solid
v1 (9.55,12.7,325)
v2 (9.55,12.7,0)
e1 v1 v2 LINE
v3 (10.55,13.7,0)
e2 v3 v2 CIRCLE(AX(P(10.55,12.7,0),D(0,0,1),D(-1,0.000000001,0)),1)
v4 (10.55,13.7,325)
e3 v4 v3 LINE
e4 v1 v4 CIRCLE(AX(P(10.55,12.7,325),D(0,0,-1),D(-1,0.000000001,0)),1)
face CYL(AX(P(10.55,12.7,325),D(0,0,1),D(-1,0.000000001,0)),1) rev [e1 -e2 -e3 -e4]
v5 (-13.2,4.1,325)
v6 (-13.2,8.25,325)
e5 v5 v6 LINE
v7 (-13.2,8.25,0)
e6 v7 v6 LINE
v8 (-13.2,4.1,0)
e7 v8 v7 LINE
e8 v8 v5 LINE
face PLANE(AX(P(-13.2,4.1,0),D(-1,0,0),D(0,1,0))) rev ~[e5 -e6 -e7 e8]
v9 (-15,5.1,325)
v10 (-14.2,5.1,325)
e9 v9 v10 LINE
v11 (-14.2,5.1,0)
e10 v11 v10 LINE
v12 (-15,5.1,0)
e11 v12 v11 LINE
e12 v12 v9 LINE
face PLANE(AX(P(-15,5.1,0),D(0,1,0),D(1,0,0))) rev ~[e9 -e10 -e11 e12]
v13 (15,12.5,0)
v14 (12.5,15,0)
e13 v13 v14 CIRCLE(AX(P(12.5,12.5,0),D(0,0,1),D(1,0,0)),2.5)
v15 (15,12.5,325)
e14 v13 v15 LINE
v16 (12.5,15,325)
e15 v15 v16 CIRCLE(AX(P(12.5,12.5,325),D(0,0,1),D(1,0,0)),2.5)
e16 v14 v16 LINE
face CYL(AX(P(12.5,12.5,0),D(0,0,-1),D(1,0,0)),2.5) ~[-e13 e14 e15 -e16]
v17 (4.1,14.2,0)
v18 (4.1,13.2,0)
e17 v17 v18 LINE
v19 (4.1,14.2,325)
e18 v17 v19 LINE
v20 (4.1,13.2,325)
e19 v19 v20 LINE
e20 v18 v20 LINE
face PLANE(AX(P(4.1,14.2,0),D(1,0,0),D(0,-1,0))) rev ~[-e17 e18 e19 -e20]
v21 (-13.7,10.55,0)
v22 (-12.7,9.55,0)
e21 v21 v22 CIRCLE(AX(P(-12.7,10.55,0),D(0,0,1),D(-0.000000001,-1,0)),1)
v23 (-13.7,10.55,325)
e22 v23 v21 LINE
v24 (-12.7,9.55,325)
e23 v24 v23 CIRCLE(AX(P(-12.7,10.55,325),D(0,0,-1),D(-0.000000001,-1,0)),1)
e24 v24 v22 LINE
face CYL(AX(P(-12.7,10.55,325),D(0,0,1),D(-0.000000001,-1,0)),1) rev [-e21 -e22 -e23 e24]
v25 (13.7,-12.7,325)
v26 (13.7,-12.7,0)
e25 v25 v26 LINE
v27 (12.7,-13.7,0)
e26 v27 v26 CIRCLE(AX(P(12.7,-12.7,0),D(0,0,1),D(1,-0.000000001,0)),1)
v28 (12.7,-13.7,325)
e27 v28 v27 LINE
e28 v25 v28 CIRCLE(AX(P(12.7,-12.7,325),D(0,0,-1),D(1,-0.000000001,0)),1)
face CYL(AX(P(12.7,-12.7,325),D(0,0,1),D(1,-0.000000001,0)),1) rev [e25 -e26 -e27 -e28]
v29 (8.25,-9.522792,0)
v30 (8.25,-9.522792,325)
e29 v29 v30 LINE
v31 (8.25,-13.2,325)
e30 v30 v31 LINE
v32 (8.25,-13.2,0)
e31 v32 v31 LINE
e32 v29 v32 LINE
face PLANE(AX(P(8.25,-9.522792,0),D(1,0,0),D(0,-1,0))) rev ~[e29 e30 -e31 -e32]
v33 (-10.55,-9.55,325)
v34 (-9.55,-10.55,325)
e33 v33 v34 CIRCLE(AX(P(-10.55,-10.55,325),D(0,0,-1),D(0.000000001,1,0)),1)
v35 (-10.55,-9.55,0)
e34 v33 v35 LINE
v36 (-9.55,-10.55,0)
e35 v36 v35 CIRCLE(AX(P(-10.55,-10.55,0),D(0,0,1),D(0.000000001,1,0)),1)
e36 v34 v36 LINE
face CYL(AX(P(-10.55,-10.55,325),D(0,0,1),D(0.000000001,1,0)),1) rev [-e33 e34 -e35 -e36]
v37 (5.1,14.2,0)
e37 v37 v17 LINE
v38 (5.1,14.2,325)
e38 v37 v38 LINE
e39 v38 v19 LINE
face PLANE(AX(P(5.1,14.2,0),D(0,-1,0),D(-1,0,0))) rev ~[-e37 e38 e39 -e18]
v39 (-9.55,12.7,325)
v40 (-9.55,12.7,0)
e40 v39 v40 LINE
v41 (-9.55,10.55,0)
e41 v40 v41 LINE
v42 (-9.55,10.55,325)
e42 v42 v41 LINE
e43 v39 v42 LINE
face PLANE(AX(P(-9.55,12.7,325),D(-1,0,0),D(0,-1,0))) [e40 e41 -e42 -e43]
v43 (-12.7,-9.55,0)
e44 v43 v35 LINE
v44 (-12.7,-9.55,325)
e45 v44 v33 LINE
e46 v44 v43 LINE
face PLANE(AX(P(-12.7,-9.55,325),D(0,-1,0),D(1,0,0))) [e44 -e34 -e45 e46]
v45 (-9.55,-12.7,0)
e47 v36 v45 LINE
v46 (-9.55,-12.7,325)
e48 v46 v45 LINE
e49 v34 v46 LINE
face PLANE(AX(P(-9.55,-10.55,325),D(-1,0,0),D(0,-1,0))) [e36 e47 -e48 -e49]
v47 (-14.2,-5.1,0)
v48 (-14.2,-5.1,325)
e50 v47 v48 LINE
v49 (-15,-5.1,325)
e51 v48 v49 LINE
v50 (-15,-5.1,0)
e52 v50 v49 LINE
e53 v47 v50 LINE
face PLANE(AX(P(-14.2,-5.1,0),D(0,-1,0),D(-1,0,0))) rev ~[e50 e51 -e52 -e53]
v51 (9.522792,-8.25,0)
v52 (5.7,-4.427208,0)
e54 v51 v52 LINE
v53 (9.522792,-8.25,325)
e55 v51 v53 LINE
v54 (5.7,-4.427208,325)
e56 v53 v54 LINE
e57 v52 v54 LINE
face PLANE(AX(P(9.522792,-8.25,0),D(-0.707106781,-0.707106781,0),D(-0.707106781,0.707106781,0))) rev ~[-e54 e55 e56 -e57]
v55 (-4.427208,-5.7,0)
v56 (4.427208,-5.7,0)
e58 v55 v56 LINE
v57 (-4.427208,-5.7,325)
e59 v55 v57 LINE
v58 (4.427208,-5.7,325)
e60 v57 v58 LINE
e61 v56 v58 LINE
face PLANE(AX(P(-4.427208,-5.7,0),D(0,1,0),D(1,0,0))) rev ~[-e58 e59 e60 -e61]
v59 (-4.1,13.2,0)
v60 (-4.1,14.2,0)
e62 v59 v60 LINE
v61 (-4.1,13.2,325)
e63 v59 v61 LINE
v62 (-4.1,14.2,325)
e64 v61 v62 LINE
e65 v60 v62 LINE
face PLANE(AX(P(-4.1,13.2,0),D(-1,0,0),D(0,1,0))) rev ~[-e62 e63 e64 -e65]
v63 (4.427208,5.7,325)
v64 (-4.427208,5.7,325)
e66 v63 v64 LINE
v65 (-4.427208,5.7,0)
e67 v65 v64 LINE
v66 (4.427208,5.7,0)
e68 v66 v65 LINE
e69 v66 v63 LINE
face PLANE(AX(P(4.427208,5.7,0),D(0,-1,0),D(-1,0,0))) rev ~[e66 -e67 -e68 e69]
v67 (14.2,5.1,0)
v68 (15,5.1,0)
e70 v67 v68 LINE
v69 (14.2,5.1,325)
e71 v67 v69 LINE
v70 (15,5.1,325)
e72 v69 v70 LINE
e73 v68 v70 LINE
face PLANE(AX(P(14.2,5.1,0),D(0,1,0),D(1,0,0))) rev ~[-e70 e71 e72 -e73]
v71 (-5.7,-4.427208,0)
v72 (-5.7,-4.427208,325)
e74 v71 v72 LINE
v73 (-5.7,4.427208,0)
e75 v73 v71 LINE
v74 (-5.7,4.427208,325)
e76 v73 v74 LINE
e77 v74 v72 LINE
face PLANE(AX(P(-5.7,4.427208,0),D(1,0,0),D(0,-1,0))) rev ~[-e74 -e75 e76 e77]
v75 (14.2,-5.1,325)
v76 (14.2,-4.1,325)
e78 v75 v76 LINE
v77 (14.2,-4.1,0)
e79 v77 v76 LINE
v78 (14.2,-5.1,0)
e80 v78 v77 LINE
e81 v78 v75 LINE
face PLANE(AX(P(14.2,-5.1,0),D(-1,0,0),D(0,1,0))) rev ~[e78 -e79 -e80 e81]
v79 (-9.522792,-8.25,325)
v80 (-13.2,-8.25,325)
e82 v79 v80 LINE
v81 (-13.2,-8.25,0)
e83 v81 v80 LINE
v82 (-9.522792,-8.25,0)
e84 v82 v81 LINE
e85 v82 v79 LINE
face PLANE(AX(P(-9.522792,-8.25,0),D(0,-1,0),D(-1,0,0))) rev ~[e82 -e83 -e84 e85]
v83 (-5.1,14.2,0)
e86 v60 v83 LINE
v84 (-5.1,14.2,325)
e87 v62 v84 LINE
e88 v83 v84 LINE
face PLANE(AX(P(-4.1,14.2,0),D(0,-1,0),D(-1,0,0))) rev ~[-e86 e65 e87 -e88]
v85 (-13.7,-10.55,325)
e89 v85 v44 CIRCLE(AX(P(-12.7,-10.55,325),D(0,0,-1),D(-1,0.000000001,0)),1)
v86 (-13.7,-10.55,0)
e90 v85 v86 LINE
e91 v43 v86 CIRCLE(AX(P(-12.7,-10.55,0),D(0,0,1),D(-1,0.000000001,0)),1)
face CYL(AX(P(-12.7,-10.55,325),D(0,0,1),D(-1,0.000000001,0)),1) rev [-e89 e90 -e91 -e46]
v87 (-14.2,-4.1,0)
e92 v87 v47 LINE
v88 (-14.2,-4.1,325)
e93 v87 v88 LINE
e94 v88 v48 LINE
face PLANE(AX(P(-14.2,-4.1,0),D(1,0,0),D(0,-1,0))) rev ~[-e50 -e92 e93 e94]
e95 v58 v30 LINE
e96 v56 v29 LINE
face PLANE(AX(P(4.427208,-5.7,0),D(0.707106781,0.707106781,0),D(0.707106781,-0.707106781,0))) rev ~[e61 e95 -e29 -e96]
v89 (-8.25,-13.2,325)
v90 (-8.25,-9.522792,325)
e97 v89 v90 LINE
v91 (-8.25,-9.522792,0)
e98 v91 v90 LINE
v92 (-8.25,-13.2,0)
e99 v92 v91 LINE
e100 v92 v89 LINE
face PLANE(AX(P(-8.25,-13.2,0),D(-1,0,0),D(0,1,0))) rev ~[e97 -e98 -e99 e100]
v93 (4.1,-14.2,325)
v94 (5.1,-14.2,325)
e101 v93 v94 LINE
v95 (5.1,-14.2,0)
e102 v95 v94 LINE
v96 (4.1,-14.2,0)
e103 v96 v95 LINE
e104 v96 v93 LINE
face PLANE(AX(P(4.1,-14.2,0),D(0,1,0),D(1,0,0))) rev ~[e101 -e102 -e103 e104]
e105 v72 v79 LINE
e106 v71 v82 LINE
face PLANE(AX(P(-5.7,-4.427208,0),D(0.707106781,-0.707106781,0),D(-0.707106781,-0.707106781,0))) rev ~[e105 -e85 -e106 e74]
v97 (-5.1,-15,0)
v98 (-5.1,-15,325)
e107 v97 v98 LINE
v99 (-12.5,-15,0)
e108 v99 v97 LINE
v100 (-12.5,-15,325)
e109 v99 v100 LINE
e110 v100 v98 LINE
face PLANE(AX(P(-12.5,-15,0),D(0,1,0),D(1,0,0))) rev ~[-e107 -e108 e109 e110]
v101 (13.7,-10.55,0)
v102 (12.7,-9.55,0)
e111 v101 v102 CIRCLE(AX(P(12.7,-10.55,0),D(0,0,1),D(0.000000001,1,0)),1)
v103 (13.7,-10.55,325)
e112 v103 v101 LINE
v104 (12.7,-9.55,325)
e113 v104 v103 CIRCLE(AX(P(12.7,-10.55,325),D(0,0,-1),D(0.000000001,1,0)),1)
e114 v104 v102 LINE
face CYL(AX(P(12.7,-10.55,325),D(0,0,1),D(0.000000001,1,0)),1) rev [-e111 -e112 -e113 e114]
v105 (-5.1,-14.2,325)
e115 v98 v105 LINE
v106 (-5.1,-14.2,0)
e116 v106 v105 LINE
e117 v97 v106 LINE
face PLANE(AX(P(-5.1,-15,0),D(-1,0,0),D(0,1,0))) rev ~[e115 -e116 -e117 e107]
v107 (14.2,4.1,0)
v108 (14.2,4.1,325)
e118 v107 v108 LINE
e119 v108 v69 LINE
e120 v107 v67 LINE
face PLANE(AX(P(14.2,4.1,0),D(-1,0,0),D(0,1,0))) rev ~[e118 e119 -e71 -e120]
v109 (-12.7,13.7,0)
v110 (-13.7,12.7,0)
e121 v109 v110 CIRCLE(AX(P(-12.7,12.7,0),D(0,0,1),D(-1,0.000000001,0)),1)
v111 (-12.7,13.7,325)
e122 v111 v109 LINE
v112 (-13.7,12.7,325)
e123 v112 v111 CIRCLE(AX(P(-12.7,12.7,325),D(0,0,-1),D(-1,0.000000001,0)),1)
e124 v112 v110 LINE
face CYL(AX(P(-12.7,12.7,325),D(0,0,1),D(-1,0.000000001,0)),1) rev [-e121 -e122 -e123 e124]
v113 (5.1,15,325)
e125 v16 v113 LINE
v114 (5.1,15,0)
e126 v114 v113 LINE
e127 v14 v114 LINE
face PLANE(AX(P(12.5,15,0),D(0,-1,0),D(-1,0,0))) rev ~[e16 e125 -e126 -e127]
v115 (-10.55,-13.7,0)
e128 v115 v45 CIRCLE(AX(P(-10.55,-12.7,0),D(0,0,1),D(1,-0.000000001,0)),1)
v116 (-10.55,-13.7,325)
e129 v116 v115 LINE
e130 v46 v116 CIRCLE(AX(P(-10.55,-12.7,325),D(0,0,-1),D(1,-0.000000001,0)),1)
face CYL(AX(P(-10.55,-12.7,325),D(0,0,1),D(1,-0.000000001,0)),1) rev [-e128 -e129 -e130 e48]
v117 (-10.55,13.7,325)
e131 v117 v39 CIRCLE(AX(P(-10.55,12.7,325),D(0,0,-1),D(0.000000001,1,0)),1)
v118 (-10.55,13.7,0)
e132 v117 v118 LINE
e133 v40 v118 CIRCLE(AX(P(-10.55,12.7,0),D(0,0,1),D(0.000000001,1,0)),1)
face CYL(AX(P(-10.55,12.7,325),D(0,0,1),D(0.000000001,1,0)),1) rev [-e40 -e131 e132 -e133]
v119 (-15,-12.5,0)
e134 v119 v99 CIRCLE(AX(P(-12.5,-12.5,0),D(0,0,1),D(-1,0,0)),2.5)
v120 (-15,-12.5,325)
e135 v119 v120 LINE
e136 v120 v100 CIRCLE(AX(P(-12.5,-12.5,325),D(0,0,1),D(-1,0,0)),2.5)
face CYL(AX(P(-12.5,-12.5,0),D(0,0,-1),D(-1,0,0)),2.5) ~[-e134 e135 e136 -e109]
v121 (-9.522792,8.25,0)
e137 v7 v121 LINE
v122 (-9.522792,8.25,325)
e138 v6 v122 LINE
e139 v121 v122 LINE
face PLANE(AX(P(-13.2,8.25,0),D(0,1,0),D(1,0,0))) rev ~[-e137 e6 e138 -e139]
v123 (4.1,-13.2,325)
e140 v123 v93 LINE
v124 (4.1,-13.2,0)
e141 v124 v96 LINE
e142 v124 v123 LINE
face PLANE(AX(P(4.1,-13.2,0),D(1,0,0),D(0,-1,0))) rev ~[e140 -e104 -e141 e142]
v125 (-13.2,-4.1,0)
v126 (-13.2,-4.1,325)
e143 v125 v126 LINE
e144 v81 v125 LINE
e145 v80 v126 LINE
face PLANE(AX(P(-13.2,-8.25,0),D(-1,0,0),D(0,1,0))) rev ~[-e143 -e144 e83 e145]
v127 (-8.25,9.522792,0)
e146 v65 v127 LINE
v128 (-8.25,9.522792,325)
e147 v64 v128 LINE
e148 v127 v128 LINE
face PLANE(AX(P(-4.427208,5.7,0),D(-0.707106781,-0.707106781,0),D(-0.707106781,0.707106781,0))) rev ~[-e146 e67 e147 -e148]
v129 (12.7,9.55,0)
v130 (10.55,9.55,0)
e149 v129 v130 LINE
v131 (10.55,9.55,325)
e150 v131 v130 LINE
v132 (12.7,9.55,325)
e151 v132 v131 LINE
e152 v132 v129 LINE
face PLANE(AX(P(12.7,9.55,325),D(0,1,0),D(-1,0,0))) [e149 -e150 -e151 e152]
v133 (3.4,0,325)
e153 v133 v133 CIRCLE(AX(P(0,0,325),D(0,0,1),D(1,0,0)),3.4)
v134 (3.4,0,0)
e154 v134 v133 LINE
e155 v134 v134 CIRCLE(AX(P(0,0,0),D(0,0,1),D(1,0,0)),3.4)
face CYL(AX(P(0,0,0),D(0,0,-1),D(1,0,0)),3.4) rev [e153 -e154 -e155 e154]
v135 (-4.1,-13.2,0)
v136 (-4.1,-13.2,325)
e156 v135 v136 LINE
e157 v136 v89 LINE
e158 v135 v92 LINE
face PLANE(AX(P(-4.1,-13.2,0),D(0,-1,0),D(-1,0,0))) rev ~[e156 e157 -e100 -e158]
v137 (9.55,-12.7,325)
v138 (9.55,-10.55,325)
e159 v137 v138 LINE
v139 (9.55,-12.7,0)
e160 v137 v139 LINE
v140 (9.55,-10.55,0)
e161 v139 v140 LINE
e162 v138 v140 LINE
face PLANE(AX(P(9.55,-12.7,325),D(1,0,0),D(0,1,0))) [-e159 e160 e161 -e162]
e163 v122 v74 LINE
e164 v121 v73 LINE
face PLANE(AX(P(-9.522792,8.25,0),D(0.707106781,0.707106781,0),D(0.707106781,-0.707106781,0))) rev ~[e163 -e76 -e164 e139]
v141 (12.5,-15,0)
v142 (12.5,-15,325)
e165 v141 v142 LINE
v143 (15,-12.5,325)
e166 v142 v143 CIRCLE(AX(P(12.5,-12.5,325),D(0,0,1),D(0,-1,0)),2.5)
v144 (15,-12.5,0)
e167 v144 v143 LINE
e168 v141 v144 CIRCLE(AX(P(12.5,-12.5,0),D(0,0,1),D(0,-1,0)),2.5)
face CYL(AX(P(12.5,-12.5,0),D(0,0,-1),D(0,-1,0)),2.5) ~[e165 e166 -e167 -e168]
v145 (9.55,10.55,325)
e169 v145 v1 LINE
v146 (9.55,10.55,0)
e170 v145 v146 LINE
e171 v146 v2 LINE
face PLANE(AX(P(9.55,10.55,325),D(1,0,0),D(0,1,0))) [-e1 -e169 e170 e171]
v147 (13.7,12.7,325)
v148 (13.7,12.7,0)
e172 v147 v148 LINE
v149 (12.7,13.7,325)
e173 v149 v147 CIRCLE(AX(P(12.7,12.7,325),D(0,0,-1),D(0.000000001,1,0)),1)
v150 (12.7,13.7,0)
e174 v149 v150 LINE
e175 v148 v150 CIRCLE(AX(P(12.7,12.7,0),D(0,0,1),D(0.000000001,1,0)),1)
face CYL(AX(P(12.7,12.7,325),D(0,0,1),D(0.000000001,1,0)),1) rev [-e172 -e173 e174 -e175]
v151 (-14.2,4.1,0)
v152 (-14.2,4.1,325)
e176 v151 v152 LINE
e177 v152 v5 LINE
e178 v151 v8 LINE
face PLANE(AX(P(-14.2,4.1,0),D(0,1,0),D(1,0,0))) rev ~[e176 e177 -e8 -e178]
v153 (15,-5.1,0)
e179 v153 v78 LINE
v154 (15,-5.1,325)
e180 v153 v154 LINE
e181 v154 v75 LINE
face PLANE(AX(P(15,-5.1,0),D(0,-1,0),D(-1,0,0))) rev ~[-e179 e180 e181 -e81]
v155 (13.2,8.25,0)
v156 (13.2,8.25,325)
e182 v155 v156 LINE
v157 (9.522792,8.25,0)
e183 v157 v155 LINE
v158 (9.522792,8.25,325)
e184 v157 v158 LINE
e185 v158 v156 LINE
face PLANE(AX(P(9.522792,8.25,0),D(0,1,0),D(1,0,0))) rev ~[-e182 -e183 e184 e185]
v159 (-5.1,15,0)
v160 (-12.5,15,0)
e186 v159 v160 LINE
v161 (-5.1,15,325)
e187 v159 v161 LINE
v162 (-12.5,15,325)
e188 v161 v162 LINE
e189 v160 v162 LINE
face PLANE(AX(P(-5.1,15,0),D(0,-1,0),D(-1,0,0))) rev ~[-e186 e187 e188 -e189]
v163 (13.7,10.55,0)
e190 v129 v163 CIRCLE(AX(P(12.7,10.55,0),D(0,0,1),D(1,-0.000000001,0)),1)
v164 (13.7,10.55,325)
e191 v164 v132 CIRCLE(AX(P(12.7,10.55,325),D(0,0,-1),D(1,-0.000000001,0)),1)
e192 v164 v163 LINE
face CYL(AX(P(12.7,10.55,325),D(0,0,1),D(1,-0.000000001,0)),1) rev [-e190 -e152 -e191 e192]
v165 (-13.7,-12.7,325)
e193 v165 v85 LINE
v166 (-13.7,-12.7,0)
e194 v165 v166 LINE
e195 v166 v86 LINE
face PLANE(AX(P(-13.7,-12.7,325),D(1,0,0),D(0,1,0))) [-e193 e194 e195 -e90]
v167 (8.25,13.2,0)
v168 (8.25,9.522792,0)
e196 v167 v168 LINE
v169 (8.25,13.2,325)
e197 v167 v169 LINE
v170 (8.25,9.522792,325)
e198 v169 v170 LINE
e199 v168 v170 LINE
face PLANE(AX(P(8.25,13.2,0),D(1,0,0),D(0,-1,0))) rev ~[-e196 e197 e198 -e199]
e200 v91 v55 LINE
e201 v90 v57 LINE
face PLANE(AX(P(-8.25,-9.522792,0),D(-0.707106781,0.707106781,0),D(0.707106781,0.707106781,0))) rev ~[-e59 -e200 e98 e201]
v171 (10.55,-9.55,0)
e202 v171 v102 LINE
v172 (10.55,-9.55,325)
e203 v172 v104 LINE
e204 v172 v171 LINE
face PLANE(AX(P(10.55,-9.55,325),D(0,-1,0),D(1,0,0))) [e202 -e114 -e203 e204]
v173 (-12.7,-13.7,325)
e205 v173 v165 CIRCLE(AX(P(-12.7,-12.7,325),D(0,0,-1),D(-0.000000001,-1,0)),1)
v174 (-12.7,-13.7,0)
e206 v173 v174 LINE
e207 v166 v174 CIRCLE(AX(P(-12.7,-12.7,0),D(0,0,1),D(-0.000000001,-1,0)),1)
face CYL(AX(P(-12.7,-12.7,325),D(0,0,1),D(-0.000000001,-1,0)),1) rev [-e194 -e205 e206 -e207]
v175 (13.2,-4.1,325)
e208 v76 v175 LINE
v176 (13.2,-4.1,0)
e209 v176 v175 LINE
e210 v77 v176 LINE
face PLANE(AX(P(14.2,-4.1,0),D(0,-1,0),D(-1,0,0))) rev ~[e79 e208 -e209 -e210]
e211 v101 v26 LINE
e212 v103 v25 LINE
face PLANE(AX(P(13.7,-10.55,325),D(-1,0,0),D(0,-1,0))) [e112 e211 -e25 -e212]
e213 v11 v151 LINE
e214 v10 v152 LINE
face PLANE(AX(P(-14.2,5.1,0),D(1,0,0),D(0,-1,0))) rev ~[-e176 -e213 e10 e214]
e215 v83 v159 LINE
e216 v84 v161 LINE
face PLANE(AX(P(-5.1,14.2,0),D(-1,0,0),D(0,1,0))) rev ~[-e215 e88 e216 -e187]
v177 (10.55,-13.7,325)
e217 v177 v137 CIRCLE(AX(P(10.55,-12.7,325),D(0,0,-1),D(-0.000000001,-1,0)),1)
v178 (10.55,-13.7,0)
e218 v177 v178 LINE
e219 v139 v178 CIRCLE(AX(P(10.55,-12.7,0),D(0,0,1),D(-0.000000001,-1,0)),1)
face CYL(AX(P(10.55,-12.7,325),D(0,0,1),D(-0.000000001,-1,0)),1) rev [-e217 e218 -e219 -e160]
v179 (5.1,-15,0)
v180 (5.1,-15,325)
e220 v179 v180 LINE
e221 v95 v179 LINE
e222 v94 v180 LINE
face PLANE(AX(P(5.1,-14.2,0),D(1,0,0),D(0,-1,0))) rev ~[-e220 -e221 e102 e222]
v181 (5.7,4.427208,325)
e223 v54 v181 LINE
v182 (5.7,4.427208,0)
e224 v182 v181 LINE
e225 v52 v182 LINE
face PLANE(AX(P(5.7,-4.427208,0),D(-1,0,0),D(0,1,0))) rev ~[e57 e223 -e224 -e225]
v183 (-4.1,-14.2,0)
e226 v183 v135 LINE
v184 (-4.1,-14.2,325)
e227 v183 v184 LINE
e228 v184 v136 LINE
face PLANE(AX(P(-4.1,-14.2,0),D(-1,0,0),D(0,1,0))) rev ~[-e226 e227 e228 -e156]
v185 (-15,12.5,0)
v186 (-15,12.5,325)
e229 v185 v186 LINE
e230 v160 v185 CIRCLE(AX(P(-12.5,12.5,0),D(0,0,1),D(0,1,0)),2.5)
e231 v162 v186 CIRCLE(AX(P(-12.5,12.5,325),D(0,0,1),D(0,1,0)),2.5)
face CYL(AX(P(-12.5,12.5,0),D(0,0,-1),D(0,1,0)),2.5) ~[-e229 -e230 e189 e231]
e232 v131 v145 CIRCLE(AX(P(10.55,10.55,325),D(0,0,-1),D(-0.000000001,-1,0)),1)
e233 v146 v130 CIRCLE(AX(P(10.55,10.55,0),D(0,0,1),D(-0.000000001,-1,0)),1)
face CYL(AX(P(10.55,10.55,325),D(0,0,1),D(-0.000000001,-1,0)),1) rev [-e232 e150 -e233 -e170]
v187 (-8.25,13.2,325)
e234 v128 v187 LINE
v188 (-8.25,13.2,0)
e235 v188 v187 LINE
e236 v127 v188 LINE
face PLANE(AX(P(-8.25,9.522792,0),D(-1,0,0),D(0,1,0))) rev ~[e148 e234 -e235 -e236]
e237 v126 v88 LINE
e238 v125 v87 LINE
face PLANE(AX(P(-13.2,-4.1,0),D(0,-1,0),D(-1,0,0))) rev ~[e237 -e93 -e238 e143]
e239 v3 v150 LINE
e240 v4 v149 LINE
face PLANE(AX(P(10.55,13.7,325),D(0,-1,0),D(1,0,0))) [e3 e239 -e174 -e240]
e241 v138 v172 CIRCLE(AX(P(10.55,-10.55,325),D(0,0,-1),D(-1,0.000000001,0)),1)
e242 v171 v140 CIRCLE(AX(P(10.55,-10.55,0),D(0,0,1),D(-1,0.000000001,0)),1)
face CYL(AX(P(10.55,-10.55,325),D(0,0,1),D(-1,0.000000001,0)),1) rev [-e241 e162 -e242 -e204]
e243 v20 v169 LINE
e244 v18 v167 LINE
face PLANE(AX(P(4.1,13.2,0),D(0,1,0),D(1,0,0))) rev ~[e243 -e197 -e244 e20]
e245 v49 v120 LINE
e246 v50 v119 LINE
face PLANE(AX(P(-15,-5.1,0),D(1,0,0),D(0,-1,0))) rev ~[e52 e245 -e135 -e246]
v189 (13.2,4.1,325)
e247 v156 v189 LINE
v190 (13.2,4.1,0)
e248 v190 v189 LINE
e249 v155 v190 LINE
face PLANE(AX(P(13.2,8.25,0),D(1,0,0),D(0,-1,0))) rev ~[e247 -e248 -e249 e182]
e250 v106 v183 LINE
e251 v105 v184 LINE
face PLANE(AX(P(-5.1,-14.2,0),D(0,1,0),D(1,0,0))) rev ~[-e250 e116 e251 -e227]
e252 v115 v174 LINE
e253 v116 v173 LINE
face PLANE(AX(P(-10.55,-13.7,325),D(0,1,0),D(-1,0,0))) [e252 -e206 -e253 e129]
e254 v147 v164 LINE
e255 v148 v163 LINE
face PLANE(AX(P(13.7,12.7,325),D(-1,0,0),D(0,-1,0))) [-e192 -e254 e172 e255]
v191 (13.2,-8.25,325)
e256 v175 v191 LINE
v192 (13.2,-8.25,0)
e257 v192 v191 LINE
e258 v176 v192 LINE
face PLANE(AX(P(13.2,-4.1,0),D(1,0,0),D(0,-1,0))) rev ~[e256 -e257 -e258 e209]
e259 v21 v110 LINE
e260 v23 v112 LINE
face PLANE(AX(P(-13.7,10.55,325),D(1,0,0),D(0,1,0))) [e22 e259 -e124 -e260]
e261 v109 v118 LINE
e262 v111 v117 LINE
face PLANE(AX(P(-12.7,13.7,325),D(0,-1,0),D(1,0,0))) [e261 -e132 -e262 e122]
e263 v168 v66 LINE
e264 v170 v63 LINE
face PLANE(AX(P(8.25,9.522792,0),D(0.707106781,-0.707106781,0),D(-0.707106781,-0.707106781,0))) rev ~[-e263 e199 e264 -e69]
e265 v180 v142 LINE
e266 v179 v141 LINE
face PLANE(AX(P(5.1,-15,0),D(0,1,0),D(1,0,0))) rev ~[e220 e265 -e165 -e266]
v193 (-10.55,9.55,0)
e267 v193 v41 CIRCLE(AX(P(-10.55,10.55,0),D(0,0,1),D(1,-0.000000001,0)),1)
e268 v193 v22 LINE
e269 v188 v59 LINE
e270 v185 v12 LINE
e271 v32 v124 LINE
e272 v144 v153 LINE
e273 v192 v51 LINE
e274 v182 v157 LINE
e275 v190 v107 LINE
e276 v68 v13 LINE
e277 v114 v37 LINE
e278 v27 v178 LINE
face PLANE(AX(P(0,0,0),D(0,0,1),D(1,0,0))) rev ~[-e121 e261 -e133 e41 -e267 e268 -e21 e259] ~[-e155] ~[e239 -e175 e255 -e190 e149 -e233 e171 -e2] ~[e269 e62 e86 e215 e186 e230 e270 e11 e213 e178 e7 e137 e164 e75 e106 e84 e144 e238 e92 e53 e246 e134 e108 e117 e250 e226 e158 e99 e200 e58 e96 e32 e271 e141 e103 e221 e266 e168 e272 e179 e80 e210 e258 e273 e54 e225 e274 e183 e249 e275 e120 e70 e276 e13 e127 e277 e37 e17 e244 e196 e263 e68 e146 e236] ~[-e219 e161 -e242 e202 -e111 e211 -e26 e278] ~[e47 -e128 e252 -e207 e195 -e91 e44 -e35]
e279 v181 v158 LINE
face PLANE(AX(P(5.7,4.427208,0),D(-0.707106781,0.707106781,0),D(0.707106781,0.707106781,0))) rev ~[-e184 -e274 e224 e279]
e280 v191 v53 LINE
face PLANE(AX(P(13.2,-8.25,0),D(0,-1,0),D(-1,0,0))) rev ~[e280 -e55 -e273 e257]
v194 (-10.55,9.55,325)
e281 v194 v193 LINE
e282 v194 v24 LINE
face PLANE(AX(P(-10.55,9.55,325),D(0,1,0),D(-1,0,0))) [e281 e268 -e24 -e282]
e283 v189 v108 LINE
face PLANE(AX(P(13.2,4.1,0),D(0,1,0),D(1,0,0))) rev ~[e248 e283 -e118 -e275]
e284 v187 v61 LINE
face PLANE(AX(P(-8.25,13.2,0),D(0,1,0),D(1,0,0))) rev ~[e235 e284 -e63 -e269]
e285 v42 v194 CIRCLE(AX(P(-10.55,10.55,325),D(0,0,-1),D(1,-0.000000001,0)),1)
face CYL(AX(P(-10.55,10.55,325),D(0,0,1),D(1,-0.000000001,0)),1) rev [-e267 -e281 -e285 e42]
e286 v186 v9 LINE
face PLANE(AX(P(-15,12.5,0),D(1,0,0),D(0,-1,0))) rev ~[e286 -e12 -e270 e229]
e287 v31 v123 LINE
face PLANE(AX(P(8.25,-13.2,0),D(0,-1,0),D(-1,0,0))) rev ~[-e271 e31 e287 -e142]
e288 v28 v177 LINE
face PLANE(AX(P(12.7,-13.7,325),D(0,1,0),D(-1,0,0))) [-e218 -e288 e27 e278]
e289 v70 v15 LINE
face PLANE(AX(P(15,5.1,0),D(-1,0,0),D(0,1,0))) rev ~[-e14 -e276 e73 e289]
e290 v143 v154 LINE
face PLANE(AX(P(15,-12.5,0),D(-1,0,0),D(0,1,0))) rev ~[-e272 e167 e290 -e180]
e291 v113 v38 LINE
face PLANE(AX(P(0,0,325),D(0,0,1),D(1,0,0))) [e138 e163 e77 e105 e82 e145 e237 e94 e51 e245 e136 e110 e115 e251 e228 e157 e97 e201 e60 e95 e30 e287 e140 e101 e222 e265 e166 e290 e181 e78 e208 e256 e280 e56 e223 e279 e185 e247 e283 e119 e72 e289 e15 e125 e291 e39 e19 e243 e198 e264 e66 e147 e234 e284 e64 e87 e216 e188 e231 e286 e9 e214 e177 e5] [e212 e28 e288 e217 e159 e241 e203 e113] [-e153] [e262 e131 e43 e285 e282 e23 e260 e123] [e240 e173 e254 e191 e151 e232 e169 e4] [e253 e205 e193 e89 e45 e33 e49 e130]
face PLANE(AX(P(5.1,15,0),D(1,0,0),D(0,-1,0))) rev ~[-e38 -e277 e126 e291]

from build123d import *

# Parameters (mm, degrees)
SKETCH1_R      = 3.4
EXTRUDE1_DEPTH = 325
EXTRUDE2_DEPTH = 326.69157189


with BuildPart() as part:
    # Sketch1 → Extrude1 (new body)
    with BuildSketch(Plane.XY):
        with BuildLine():
            Line((-5.1, 14.2), (-5.1, 15))
            Line((-5.1, 15), (-12.5, 15))
            ThreePointArc((-12.5, 15), (-14.267766953, 14.267766953), (-15, 12.5))
            Line((-15, 12.5), (-15, 5.1))
            Line((-15, 5.1), (-14.2, 5.1))
            Line((-14.2, 5.1), (-14.2, 4.1))
            Line((-14.2, 4.1), (-13.2, 4.1))
            Line((-13.2, 4.1), (-13.2, 8.25))
            Line((-13.2, 8.25), (-9.522792206, 8.25))
            Line((-9.522792206, 8.25), (-5.7, 4.427207794))
            Line((-5.7, 4.427207794), (-5.7, -4.427207794))
            Line((-5.7, -4.427207794), (-9.522792206, -8.25))
            Line((-9.522792206, -8.25), (-13.2, -8.25))
            Line((-13.2, -8.25), (-13.2, -4.1))
            Line((-13.2, -4.1), (-14.2, -4.1))
            Line((-14.2, -4.1), (-14.2, -5.1))
            Line((-14.2, -5.1), (-15, -5.1))
            Line((-15, -5.1), (-15, -12.5))
            ThreePointArc((-15, -12.5), (-14.267766953, -14.267766953), (-12.5, -15))
            Line((-12.5, -15), (-5.1, -15))
            Line((-5.1, -15), (-5.1, -14.2))
            Line((-5.1, -14.2), (-4.1, -14.2))
            Line((-4.1, -14.2), (-4.1, -13.2))
            Line((-4.1, -13.2), (-8.25, -13.2))
            Line((-8.25, -13.2), (-8.25, -9.522792206))
            Line((-8.25, -9.522792206), (-4.427207794, -5.7))
            Line((-4.427207794, -5.7), (4.427207794, -5.7))
            Line((4.427207794, -5.7), (8.25, -9.522792206))
            Line((8.25, -9.522792206), (8.25, -13.2))
            Line((8.25, -13.2), (4.1, -13.2))
            Line((4.1, -13.2), (4.1, -14.2))
            Line((4.1, -14.2), (5.1, -14.2))
            Line((5.1, -14.2), (5.1, -15))
            Line((5.1, -15), (12.5, -15))
            ThreePointArc((12.5, -15), (14.267766953, -14.267766953), (15, -12.5))
            Line((15, -12.5), (15, -5.1))
            Line((15, -5.1), (14.2, -5.1))
            Line((14.2, -5.1), (14.2, -4.1))
            Line((14.2, -4.1), (13.2, -4.1))
            Line((13.2, -4.1), (13.2, -8.25))
            Line((13.2, -8.25), (9.522792206, -8.25))
            Line((9.522792206, -8.25), (5.7, -4.427207794))
            Line((5.7, -4.427207794), (5.7, 4.427207794))
            Line((5.7, 4.427207794), (9.522792206, 8.25))
            Line((9.522792206, 8.25), (13.2, 8.25))
            Line((13.2, 8.25), (13.2, 4.1))
            Line((13.2, 4.1), (14.2, 4.1))
            Line((14.2, 4.1), (14.2, 5.1))
            Line((14.2, 5.1), (15, 5.1))
            Line((15, 5.1), (15, 12.5))
            ThreePointArc((15, 12.5), (14.267766953, 14.267766953), (12.5, 15))
            Line((12.5, 15), (5.1, 15))
            Line((5.1, 15), (5.1, 14.2))
            Line((5.1, 14.2), (4.1, 14.2))
            Line((4.1, 14.2), (4.1, 13.2))
            Line((4.1, 13.2), (8.25, 13.2))
            Line((8.25, 13.2), (8.25, 9.522792206))
            Line((8.25, 9.522792206), (4.427207794, 5.7))
            Line((4.427207794, 5.7), (-4.427207794, 5.7))
            Line((-4.427207794, 5.7), (-8.25, 9.522792206))
            Line((-8.25, 9.522792206), (-8.25, 13.2))
            Line((-8.25, 13.2), (-4.1, 13.2))
            Line((-4.1, 13.2), (-4.1, 14.2))
            Line((-4.1, 14.2), (-5.1, 14.2))
        make_face()
        Circle(SKETCH1_R, mode=Mode.SUBTRACT)
    extrude(amount=EXTRUDE1_DEPTH)

    # Sketch2 → Extrude2 (cut, through all)
    with BuildSketch(Plane.XY.offset(325)):
        with BuildLine():
            Line((13.7, 12.7), (13.7, 10.55))
            ThreePointArc((13.7, 10.55), (13.407106781, 9.842893219), (12.7, 9.55))
            Line((12.7, 9.55), (10.55, 9.55))
            ThreePointArc((10.55, 9.55), (9.842893219, 9.842893219), (9.55, 10.55))
            Line((9.55, 10.55), (9.55, 12.7))
            ThreePointArc((9.55, 12.7), (9.842893219, 13.407106781), (10.55, 13.7))
            Line((10.55, 13.7), (12.7, 13.7))
            ThreePointArc((12.7, 13.7), (13.407106781, 13.407106781), (13.7, 12.7))
        make_face()
        with BuildLine():
            Line((-12.7, 13.7), (-10.55, 13.7))
            ThreePointArc((-10.55, 13.7), (-9.842893219, 13.407106781), (-9.55, 12.7))
            Line((-9.55, 12.7), (-9.55, 10.55))
            ThreePointArc((-9.55, 10.55), (-9.842893219, 9.842893219), (-10.55, 9.55))
            Line((-10.55, 9.55), (-12.7, 9.55))
            ThreePointArc((-12.7, 9.55), (-13.407106781, 9.842893219), (-13.7, 10.55))
            Line((-13.7, 10.55), (-13.7, 12.7))
            ThreePointArc((-13.7, 12.7), (-13.407106781, 13.407106781), (-12.7, 13.7))
        make_face()
        with BuildLine():
            Line((12.7, -13.7), (10.55, -13.7))
            ThreePointArc((10.55, -13.7), (9.842893219, -13.407106781), (9.55, -12.7))
            Line((9.55, -12.7), (9.55, -10.55))
            ThreePointArc((9.55, -10.55), (9.842893219, -9.842893219), (10.55, -9.55))
            Line((10.55, -9.55), (12.7, -9.55))
            ThreePointArc((12.7, -9.55), (13.407106781, -9.842893219), (13.7, -10.55))
            Line((13.7, -10.55), (13.7, -12.7))
            ThreePointArc((13.7, -12.7), (13.407106781, -13.407106781), (12.7, -13.7))
        make_face()
        with BuildLine():
            Line((-13.7, -12.7), (-13.7, -10.55))
            ThreePointArc((-13.7, -10.55), (-13.407106781, -9.842893219), (-12.7, -9.55))
            Line((-12.7, -9.55), (-10.55, -9.55))
            ThreePointArc((-10.55, -9.55), (-9.842893219, -9.842893219), (-9.55, -10.55))
            Line((-9.55, -10.55), (-9.55, -12.7))
            ThreePointArc((-9.55, -12.7), (-9.842893219, -13.407106781), (-10.55, -13.7))
            Line((-10.55, -13.7), (-12.7, -13.7))
            ThreePointArc((-12.7, -13.7), (-13.407106781, -13.407106781), (-13.7, -12.7))
        make_face()
    extrude(amount=-EXTRUDE2_DEPTH, mode=Mode.SUBTRACT)


solid = part.part
